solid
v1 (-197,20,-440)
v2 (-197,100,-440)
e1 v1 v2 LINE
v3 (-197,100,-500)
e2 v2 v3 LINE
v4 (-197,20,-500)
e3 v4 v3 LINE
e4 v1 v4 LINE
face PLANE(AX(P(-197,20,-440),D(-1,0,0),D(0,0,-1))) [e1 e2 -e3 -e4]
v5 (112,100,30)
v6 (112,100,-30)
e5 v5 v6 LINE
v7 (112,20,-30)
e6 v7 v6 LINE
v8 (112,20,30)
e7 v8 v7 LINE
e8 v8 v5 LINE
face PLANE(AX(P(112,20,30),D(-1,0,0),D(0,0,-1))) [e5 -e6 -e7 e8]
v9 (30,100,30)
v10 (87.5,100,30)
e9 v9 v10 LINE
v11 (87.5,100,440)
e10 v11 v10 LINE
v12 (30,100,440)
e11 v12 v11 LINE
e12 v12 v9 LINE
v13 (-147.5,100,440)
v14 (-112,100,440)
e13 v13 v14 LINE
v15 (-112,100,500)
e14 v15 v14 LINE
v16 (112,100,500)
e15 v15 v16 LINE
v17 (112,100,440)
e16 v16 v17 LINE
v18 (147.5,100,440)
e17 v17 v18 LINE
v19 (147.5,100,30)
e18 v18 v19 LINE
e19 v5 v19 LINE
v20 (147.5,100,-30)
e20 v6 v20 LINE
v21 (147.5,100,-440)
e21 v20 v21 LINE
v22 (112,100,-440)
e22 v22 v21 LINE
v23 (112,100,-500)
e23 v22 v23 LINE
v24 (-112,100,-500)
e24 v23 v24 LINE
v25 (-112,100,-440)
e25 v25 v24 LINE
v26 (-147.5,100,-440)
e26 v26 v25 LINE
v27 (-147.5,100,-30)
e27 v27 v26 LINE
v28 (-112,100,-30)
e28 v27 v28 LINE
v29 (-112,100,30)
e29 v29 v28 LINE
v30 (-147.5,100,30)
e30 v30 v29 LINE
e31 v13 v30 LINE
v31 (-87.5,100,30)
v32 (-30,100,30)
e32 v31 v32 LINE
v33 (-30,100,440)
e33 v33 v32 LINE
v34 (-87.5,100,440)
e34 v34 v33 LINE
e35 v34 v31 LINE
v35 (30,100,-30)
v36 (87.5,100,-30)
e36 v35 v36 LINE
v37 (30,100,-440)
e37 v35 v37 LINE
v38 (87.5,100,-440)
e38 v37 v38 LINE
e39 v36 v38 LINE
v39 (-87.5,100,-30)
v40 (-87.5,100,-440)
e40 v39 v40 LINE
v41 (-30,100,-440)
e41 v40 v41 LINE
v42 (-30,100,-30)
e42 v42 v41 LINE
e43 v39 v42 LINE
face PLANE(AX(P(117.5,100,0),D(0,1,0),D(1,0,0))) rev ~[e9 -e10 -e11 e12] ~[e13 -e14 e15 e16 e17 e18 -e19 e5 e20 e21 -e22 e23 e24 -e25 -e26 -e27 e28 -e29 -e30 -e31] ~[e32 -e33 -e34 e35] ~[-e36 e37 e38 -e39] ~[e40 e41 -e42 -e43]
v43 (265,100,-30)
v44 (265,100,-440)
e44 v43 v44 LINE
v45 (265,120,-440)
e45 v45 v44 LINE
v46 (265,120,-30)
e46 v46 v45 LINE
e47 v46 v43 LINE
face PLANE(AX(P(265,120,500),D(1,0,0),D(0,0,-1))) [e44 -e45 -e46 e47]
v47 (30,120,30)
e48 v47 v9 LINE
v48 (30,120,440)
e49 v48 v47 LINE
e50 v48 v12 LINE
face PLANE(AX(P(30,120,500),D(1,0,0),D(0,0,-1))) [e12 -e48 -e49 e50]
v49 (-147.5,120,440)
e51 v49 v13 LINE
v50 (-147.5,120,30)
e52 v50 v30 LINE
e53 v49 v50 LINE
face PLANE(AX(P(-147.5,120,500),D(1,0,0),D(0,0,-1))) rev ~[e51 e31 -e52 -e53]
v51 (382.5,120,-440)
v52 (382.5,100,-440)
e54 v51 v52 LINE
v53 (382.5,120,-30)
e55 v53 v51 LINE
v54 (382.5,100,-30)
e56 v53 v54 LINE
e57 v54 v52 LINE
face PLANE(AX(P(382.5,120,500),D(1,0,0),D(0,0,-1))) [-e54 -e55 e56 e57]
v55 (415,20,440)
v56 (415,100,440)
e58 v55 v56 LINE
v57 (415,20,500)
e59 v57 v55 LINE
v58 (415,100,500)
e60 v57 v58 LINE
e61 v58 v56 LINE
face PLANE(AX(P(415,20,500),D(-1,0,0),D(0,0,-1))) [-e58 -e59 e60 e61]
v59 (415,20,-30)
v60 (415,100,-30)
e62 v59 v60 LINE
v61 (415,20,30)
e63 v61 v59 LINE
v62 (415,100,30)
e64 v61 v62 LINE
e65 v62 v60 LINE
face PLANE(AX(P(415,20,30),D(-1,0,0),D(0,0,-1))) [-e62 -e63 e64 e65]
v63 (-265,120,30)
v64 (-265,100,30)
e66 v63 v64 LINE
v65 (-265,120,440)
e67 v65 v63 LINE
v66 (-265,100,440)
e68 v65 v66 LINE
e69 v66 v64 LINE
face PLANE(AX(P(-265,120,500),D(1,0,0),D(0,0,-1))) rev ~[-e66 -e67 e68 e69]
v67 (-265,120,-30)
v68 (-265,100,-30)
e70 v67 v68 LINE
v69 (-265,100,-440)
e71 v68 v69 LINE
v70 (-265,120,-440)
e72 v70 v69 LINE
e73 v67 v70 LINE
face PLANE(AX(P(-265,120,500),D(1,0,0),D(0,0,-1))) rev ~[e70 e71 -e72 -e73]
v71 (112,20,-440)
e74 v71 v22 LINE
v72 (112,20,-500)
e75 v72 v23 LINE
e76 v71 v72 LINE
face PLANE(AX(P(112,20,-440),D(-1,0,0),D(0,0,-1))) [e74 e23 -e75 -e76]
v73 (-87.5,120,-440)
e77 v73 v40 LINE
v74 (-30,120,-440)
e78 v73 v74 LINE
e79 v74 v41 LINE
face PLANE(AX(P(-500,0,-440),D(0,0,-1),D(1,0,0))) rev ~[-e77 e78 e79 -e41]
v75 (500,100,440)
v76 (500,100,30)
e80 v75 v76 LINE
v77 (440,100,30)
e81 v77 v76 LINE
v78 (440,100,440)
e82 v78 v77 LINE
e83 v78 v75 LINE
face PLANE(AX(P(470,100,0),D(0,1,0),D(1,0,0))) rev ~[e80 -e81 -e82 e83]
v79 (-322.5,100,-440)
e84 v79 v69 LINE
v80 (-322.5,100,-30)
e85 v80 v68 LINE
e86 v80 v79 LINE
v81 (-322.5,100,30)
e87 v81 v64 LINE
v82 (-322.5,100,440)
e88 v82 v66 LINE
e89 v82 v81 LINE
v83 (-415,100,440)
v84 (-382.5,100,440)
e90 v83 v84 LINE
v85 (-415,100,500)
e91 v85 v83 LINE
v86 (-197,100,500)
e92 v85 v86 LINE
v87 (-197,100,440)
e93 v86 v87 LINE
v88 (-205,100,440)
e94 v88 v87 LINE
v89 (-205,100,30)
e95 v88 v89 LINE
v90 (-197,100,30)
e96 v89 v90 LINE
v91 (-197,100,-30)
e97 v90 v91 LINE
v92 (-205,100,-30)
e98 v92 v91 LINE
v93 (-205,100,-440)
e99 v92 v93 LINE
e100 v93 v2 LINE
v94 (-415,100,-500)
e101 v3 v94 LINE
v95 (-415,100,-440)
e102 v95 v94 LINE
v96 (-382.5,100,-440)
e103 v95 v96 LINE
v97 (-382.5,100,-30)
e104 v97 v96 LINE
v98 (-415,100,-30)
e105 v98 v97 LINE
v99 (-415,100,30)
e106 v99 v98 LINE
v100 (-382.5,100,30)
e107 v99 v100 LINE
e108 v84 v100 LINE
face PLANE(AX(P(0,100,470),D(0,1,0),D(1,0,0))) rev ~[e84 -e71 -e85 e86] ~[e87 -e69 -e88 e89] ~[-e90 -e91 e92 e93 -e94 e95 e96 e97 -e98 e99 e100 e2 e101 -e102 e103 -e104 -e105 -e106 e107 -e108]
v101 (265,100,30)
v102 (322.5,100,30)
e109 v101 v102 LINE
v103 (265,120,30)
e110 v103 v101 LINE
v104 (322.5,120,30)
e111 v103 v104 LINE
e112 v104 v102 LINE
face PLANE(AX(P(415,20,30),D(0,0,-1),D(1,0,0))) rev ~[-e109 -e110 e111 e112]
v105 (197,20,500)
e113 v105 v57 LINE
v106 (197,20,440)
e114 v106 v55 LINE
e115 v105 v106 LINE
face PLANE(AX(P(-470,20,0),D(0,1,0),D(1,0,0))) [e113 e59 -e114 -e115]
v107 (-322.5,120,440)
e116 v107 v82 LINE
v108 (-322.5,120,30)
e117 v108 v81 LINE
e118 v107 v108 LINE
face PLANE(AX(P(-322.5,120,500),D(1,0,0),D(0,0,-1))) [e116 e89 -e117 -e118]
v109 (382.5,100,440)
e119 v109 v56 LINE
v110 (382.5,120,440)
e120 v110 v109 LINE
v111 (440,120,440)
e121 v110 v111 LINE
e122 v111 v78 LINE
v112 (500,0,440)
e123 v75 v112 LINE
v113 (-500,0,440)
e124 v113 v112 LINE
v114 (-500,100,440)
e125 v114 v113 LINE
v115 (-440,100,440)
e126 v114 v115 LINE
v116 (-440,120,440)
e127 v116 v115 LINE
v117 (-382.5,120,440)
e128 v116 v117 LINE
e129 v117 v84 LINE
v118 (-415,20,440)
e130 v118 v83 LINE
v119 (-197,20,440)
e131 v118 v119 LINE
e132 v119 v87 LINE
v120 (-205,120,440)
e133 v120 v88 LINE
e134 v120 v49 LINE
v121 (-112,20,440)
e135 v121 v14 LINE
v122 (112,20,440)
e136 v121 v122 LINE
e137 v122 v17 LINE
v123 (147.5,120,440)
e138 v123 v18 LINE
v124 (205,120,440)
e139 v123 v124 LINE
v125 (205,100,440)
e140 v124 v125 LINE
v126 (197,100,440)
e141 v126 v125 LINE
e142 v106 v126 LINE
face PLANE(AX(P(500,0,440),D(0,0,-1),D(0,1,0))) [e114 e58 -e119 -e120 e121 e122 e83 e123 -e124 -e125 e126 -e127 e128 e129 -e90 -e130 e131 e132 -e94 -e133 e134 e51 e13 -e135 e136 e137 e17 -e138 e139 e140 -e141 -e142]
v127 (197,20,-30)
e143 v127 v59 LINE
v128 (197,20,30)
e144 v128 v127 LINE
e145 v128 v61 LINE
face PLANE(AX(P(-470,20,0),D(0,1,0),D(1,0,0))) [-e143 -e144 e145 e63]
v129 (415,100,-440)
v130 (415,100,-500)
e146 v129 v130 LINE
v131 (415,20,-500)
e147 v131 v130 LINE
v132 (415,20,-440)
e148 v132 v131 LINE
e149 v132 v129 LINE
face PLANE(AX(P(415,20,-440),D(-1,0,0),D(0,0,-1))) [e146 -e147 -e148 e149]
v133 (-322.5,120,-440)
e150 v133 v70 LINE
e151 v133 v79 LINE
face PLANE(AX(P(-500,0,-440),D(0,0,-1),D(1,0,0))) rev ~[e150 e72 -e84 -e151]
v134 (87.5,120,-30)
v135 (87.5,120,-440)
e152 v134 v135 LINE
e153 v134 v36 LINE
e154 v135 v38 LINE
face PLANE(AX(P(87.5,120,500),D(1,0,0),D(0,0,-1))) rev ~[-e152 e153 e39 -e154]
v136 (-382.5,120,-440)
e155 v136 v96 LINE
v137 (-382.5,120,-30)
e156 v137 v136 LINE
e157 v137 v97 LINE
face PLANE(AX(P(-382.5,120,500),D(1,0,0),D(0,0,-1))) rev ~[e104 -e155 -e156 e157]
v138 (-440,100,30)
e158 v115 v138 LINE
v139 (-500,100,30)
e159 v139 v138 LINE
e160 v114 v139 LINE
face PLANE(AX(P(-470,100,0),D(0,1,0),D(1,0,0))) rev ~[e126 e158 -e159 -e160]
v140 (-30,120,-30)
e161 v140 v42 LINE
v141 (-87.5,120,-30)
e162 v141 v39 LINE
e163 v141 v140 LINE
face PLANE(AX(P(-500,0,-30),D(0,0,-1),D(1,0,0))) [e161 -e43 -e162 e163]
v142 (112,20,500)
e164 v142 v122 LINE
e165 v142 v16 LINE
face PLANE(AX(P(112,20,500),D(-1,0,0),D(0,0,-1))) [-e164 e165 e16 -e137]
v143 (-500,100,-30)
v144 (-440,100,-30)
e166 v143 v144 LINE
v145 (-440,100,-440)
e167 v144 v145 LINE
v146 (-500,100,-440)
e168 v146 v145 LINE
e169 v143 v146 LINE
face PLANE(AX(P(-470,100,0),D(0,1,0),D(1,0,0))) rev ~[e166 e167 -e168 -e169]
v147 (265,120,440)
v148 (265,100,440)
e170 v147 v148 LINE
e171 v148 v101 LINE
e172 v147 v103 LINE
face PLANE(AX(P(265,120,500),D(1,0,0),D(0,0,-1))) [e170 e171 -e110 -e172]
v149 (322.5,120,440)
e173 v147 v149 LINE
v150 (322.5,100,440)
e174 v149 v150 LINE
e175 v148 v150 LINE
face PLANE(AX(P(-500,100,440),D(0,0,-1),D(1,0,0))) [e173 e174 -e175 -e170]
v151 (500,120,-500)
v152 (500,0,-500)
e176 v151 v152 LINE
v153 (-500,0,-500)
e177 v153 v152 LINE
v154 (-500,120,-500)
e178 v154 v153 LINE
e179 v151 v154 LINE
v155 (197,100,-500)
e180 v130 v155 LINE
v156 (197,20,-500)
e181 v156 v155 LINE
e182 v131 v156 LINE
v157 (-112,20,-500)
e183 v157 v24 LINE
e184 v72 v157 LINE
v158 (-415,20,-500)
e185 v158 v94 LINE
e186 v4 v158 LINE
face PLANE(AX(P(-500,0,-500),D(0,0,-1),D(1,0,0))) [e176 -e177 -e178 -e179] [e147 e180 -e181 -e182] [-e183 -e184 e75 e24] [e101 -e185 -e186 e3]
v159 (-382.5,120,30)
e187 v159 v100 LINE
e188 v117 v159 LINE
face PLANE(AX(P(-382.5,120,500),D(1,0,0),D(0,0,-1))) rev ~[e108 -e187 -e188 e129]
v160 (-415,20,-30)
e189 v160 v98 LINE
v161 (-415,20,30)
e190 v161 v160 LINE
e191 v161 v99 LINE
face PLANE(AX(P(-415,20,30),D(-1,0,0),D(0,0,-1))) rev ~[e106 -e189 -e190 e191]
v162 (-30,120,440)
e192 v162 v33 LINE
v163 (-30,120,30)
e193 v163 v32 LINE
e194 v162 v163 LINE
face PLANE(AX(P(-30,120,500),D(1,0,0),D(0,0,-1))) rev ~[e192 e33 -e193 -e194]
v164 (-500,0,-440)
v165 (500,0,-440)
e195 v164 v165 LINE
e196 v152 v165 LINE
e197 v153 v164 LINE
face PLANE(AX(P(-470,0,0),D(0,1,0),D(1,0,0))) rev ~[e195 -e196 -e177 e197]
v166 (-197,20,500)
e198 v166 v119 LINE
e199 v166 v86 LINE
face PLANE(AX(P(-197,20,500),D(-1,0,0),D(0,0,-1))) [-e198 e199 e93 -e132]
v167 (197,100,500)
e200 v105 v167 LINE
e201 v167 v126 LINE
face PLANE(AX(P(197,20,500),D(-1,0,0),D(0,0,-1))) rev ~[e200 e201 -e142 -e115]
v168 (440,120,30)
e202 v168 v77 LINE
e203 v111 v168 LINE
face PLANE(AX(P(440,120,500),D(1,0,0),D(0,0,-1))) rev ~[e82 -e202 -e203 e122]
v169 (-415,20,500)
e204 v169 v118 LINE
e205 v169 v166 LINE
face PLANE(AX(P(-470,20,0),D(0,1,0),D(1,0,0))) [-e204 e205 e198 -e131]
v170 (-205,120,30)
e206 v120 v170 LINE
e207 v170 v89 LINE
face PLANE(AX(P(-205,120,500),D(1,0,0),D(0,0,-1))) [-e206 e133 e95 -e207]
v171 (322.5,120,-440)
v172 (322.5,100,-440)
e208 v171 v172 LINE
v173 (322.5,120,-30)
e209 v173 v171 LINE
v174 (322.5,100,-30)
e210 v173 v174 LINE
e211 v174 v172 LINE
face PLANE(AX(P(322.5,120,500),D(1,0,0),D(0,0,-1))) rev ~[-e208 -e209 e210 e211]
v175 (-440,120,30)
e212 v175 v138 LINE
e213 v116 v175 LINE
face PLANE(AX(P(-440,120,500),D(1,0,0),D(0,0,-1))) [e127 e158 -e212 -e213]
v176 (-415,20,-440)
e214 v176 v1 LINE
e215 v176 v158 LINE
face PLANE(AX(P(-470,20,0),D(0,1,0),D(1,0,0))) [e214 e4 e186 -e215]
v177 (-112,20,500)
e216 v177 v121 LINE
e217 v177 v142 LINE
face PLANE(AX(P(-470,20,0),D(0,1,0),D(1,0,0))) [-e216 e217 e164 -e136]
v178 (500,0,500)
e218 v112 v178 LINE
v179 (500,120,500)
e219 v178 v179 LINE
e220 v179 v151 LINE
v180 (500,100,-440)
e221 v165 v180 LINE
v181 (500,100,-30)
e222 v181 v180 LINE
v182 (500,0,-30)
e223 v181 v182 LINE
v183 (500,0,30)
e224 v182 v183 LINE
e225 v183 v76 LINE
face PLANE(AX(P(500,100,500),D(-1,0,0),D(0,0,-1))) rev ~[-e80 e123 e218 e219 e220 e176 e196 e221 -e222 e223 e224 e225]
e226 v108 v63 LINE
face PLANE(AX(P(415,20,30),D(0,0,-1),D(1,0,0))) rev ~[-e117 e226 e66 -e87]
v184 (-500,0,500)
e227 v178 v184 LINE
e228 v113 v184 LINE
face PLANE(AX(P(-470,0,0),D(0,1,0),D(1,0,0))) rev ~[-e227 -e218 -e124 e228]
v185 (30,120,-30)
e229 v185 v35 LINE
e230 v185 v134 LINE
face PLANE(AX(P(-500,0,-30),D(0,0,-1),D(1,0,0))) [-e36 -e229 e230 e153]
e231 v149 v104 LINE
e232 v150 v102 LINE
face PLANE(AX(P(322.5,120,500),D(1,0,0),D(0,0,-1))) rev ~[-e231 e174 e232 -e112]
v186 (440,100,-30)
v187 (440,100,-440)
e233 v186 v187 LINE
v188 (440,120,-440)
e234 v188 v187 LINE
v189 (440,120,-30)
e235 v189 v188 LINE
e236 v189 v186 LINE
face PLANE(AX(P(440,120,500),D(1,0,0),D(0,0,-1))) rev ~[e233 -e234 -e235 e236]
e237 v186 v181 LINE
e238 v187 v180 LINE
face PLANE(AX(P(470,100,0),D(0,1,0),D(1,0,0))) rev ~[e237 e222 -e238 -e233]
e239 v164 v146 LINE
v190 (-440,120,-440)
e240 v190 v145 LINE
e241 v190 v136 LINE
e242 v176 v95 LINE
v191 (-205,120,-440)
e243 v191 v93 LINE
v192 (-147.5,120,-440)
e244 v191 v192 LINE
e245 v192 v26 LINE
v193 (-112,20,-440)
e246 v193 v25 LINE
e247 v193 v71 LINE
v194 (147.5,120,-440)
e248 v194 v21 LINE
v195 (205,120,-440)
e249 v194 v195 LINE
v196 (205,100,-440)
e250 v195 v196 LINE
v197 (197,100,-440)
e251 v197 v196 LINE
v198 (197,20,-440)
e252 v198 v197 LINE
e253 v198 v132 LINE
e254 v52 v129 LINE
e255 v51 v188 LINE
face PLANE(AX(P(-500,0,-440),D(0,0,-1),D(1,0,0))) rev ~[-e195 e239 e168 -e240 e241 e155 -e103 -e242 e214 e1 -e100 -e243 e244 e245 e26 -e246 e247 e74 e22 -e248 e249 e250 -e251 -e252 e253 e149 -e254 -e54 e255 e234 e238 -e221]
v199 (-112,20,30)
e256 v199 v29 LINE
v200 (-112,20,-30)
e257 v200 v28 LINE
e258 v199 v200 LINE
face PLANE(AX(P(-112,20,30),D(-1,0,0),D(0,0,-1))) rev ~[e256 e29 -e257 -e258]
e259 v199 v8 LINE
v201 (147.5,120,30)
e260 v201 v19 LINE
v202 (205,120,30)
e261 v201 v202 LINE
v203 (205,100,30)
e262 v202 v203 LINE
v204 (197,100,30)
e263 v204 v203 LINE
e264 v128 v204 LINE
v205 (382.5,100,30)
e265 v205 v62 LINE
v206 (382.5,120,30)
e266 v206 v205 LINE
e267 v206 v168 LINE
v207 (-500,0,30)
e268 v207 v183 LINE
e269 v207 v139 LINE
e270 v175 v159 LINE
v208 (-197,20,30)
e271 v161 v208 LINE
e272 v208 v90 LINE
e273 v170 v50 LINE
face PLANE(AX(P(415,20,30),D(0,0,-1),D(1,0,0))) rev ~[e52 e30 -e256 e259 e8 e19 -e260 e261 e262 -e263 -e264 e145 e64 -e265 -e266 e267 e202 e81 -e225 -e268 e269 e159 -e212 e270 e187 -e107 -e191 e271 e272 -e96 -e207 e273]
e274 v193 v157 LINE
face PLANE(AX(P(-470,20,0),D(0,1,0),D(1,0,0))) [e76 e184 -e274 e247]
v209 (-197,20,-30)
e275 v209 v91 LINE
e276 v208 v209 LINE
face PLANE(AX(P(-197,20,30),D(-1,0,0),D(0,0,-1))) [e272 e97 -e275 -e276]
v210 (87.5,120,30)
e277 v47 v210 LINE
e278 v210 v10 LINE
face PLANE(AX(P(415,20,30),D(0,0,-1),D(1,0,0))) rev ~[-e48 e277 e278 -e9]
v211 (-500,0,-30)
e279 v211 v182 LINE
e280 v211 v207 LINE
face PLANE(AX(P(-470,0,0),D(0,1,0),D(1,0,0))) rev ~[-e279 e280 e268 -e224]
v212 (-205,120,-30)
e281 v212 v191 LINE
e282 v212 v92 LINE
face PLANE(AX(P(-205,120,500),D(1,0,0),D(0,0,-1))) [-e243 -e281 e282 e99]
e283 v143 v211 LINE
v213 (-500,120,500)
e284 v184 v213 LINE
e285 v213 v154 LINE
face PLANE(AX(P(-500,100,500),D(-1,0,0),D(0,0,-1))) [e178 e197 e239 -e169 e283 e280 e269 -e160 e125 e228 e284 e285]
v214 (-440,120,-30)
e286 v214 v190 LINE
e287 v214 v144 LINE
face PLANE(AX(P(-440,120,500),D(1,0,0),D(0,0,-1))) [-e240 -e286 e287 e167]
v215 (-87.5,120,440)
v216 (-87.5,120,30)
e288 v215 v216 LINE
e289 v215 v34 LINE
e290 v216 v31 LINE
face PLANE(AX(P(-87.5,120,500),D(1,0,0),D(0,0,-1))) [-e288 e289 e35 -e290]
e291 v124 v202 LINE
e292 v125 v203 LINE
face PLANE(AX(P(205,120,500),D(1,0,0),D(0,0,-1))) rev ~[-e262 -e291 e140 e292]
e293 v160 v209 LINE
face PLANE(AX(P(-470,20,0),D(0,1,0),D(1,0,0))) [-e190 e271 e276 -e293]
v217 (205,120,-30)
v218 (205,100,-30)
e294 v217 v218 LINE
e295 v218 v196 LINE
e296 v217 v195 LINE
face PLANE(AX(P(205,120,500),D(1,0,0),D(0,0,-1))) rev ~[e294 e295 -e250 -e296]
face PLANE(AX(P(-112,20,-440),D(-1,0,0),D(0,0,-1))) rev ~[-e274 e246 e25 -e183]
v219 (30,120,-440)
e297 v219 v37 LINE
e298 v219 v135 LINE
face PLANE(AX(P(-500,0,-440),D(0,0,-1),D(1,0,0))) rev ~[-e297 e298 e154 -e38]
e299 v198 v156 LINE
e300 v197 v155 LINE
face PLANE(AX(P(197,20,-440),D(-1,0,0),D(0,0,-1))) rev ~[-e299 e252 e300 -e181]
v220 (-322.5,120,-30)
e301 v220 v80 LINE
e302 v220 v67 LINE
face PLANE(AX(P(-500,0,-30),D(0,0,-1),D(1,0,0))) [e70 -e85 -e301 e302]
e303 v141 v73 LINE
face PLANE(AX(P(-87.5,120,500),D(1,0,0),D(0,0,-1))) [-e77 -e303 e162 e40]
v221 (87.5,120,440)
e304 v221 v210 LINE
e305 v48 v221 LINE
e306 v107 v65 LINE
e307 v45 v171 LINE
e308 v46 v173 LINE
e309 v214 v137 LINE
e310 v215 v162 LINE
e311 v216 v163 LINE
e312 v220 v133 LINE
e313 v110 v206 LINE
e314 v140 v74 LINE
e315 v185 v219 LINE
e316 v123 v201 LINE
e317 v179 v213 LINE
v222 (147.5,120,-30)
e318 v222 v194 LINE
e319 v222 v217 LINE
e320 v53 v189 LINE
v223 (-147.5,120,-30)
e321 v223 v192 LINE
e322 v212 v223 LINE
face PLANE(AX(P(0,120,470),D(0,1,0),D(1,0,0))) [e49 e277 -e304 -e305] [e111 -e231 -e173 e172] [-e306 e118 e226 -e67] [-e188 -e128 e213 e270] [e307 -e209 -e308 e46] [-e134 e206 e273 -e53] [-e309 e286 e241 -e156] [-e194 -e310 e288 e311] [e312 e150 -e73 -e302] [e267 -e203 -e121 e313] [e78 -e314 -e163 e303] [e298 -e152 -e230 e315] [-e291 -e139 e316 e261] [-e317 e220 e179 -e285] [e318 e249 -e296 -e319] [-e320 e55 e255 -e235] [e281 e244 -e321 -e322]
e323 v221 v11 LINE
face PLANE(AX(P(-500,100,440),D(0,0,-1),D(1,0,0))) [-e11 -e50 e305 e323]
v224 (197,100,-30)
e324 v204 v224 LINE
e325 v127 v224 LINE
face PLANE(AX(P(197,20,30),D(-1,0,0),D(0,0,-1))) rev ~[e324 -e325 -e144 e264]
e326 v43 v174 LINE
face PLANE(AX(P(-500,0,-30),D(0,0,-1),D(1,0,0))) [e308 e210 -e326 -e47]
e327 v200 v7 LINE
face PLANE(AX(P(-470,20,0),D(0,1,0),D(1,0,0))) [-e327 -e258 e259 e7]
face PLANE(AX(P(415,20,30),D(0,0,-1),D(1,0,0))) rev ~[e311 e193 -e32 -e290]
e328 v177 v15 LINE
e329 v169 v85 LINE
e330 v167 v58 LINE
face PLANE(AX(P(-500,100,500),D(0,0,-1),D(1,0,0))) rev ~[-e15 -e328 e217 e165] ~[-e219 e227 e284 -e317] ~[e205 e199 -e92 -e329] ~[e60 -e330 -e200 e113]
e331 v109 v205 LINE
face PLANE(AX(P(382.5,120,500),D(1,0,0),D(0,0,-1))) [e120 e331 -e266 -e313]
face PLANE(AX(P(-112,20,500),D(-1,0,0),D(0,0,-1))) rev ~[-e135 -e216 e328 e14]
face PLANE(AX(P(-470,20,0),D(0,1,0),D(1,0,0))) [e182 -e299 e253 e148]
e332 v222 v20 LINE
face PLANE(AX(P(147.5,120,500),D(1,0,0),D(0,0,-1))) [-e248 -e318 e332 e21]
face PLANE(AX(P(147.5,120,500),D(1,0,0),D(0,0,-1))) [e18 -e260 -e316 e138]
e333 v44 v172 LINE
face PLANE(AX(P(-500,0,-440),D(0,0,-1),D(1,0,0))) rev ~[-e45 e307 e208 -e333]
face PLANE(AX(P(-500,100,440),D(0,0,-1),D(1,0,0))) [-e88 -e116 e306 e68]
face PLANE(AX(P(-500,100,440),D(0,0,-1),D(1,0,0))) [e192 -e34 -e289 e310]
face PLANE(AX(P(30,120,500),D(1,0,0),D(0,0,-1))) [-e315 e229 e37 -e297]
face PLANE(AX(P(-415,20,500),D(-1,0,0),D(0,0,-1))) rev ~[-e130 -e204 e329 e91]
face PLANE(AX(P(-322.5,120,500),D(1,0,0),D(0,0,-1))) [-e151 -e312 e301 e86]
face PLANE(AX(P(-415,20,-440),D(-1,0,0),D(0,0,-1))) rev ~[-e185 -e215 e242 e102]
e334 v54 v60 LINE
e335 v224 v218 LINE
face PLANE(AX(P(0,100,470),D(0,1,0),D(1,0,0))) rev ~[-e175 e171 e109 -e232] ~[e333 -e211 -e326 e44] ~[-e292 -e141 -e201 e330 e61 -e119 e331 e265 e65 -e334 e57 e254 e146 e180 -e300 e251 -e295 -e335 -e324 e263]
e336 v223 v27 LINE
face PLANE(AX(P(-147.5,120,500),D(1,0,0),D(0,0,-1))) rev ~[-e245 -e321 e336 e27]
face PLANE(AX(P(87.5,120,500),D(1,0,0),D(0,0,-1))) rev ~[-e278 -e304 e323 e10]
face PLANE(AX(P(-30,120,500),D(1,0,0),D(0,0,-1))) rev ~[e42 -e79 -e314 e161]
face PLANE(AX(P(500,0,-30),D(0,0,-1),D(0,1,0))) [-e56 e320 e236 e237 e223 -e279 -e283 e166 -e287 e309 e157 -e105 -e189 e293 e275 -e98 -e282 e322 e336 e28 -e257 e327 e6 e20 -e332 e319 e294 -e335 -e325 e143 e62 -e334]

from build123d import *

# Parameters (mm, degrees)
SKETCH1_W             = 60
SKETCH1_H             = 1000
BOSS_EXTRUDE1_DEPTH   = 20
BOSS_EXTRUDE1_2_DEPTH = 20
BOSS_EXTRUDE1_3_DEPTH = 20
BOSS_EXTRUDE1_4_DEPTH = 20
SKETCH2_W             = 1000
SKETCH2_H             = 60
BOSS_EXTRUDE2_DEPTH   = 20
SKETCH3_W             = 85
SKETCH3_H             = 60
BOSS_EXTRUDE3_DEPTH   = 80
SKETCH4_W             = 1000
SKETCH4_H             = 60
BOSS_EXTRUDE4_DEPTH   = 20
SKETCH5_W             = 60
SKETCH5_H             = 1000
BOSS_EXTRUDE5_DEPTH   = 20
SKETCH6_W             = 410
SKETCH6_H             = 20
CUT_EXTRUDE1_DEPTH    = 1000


with BuildPart() as part:
    # Sketch1 → Boss-Extrude1 (new body)
    with BuildSketch(Plane(origin=(0, 0, 0), x_dir=(1, 0, 0), z_dir=(0, 1, 0))):
        with Locations((-470, 0)):
            Rectangle(SKETCH1_W, SKETCH1_H)
    extrude(amount=BOSS_EXTRUDE1_DEPTH)



with BuildPart() as body_2:
    # Sketch1 → Boss-Extrude1 2 (new body)
    with BuildSketch(Plane(origin=(0, 0, 0), x_dir=(1, 0, 0), z_dir=(0, 1, 0))):
        with Locations((470, 0)):
            Rectangle(SKETCH1_W, SKETCH1_H)
    extrude(amount=BOSS_EXTRUDE1_2_DEPTH)


with BuildPart() as body_3:
    # Sketch1 → Boss-Extrude1 3 (new body)
    with BuildSketch(Plane(origin=(0, 0, 0), x_dir=(1, 0, 0), z_dir=(0, 1, 0))):
        with Locations((-156.67, 0)):
            Rectangle(SKETCH1_W, SKETCH1_H)
    extrude(amount=BOSS_EXTRUDE1_3_DEPTH)


with BuildPart() as body_4:
    # Sketch1 → Boss-Extrude1 4 (new body)
    with BuildSketch(Plane(origin=(0, 0, 0), x_dir=(1, 0, 0), z_dir=(0, 1, 0))):
        with Locations((156.67, 0)):
            Rectangle(SKETCH1_W, SKETCH1_H)
    extrude(amount=BOSS_EXTRUDE1_4_DEPTH)


with BuildPart() as part_1:
    add(part.part)

    add(body_2.part)  # Boss-Extrude2 merges body 2

    add(body_3.part)  # Boss-Extrude2 merges body 3

    add(body_4.part)  # Boss-Extrude2 merges body 4
    # Sketch2 → Boss-Extrude2 (add)
    with BuildSketch(Plane(origin=(0, 0, 0), x_dir=(1, 0, 0), z_dir=(0, 1, 0))):
        with Locations((0, -470)):
            Rectangle(SKETCH2_W, SKETCH2_H)
        with Locations((0, 470)):
            Rectangle(SKETCH2_W, SKETCH2_H)
        Rectangle(SKETCH2_W, SKETCH2_H)
    extrude(amount=BOSS_EXTRUDE2_DEPTH)

    # Sketch3 → Boss-Extrude3 (add)
    with BuildSketch(Plane(origin=(0, 20, 0), x_dir=(1, 0, 0), z_dir=(0, 1, 0))):
        with Locations((457.5, -470)):
            Rectangle(SKETCH3_W, SKETCH3_H)
        with Locations((457.5, 470)):
            Rectangle(SKETCH3_W, SKETCH3_H)
        with Locations((457.5, 0)):
            Rectangle(SKETCH3_W, SKETCH3_H)
        with Locations((154.5, -470)):
            Rectangle(SKETCH3_W, SKETCH3_H)
        with Locations((154.5, 0)):
            Rectangle(SKETCH3_W, SKETCH3_H)
        with Locations((154.5, 470)):
            Rectangle(SKETCH3_W, SKETCH3_H)
        with Locations((-154.5, 470)):
            Rectangle(SKETCH3_W, SKETCH3_H)
        with Locations((-154.5, 0)):
            Rectangle(SKETCH3_W, SKETCH3_H)
        with Locations((-154.5, -470)):
            Rectangle(SKETCH3_W, SKETCH3_H)
        with Locations((-457.5, 0)):
            Rectangle(SKETCH3_W, SKETCH3_H)
        with Locations((-457.5, 470)):
            Rectangle(SKETCH3_W, SKETCH3_H)
        with Locations((-457.5, -470)):
            Rectangle(SKETCH3_W, SKETCH3_H)
    extrude(amount=BOSS_EXTRUDE3_DEPTH)

    # Sketch4 → Boss-Extrude4 (add)
    with BuildSketch(Plane(origin=(0, 100, 0), x_dir=(1, 0, 0), z_dir=(0, 1, 0))):
        with Locations((0, -470)):
            Rectangle(SKETCH4_W, SKETCH4_H)
        Rectangle(SKETCH4_W, SKETCH4_H)
        with Locations((0, 470)):
            Rectangle(SKETCH4_W, SKETCH4_H)
    extrude(amount=BOSS_EXTRUDE4_DEPTH)

    # Sketch5 → Boss-Extrude5 (add)
    with BuildSketch(Plane(origin=(0, 120, 0), x_dir=(1, 0, 0), z_dir=(0, 1, 0))):
        with Locations((-470, 0)):
            Rectangle(SKETCH5_W, SKETCH5_H)
        with Locations((-352.5, 0)):
            Rectangle(SKETCH5_W, SKETCH5_H)
        with Locations((-235, 0)):
            Rectangle(SKETCH5_W, SKETCH5_H)
        with Locations((-117.5, 0)):
            Rectangle(SKETCH5_W, SKETCH5_H)
        Rectangle(SKETCH5_W, SKETCH5_H)
        with Locations((117.5, 0)):
            Rectangle(SKETCH5_W, SKETCH5_H)
        with Locations((235, 0)):
            Rectangle(SKETCH5_W, SKETCH5_H)
        with Locations((352.5, 0)):
            Rectangle(SKETCH5_W, SKETCH5_H)
        with Locations((470, 0)):
            Rectangle(SKETCH5_W, SKETCH5_H)
    extrude(amount=-BOSS_EXTRUDE5_DEPTH)

    # Sketch6 → Cut-Extrude1 (cut)
    with BuildSketch(Plane(origin=(500, 0, 0), x_dir=(0, 0, -1), z_dir=(1, 0, 0))):
        with Locations((-235, 10)):
            Rectangle(SKETCH6_W, SKETCH6_H)
        with Locations((235, 10)):
            Rectangle(SKETCH6_W, SKETCH6_H)
    extrude(amount=-CUT_EXTRUDE1_DEPTH, mode=Mode.SUBTRACT)


solid = part_1.part
